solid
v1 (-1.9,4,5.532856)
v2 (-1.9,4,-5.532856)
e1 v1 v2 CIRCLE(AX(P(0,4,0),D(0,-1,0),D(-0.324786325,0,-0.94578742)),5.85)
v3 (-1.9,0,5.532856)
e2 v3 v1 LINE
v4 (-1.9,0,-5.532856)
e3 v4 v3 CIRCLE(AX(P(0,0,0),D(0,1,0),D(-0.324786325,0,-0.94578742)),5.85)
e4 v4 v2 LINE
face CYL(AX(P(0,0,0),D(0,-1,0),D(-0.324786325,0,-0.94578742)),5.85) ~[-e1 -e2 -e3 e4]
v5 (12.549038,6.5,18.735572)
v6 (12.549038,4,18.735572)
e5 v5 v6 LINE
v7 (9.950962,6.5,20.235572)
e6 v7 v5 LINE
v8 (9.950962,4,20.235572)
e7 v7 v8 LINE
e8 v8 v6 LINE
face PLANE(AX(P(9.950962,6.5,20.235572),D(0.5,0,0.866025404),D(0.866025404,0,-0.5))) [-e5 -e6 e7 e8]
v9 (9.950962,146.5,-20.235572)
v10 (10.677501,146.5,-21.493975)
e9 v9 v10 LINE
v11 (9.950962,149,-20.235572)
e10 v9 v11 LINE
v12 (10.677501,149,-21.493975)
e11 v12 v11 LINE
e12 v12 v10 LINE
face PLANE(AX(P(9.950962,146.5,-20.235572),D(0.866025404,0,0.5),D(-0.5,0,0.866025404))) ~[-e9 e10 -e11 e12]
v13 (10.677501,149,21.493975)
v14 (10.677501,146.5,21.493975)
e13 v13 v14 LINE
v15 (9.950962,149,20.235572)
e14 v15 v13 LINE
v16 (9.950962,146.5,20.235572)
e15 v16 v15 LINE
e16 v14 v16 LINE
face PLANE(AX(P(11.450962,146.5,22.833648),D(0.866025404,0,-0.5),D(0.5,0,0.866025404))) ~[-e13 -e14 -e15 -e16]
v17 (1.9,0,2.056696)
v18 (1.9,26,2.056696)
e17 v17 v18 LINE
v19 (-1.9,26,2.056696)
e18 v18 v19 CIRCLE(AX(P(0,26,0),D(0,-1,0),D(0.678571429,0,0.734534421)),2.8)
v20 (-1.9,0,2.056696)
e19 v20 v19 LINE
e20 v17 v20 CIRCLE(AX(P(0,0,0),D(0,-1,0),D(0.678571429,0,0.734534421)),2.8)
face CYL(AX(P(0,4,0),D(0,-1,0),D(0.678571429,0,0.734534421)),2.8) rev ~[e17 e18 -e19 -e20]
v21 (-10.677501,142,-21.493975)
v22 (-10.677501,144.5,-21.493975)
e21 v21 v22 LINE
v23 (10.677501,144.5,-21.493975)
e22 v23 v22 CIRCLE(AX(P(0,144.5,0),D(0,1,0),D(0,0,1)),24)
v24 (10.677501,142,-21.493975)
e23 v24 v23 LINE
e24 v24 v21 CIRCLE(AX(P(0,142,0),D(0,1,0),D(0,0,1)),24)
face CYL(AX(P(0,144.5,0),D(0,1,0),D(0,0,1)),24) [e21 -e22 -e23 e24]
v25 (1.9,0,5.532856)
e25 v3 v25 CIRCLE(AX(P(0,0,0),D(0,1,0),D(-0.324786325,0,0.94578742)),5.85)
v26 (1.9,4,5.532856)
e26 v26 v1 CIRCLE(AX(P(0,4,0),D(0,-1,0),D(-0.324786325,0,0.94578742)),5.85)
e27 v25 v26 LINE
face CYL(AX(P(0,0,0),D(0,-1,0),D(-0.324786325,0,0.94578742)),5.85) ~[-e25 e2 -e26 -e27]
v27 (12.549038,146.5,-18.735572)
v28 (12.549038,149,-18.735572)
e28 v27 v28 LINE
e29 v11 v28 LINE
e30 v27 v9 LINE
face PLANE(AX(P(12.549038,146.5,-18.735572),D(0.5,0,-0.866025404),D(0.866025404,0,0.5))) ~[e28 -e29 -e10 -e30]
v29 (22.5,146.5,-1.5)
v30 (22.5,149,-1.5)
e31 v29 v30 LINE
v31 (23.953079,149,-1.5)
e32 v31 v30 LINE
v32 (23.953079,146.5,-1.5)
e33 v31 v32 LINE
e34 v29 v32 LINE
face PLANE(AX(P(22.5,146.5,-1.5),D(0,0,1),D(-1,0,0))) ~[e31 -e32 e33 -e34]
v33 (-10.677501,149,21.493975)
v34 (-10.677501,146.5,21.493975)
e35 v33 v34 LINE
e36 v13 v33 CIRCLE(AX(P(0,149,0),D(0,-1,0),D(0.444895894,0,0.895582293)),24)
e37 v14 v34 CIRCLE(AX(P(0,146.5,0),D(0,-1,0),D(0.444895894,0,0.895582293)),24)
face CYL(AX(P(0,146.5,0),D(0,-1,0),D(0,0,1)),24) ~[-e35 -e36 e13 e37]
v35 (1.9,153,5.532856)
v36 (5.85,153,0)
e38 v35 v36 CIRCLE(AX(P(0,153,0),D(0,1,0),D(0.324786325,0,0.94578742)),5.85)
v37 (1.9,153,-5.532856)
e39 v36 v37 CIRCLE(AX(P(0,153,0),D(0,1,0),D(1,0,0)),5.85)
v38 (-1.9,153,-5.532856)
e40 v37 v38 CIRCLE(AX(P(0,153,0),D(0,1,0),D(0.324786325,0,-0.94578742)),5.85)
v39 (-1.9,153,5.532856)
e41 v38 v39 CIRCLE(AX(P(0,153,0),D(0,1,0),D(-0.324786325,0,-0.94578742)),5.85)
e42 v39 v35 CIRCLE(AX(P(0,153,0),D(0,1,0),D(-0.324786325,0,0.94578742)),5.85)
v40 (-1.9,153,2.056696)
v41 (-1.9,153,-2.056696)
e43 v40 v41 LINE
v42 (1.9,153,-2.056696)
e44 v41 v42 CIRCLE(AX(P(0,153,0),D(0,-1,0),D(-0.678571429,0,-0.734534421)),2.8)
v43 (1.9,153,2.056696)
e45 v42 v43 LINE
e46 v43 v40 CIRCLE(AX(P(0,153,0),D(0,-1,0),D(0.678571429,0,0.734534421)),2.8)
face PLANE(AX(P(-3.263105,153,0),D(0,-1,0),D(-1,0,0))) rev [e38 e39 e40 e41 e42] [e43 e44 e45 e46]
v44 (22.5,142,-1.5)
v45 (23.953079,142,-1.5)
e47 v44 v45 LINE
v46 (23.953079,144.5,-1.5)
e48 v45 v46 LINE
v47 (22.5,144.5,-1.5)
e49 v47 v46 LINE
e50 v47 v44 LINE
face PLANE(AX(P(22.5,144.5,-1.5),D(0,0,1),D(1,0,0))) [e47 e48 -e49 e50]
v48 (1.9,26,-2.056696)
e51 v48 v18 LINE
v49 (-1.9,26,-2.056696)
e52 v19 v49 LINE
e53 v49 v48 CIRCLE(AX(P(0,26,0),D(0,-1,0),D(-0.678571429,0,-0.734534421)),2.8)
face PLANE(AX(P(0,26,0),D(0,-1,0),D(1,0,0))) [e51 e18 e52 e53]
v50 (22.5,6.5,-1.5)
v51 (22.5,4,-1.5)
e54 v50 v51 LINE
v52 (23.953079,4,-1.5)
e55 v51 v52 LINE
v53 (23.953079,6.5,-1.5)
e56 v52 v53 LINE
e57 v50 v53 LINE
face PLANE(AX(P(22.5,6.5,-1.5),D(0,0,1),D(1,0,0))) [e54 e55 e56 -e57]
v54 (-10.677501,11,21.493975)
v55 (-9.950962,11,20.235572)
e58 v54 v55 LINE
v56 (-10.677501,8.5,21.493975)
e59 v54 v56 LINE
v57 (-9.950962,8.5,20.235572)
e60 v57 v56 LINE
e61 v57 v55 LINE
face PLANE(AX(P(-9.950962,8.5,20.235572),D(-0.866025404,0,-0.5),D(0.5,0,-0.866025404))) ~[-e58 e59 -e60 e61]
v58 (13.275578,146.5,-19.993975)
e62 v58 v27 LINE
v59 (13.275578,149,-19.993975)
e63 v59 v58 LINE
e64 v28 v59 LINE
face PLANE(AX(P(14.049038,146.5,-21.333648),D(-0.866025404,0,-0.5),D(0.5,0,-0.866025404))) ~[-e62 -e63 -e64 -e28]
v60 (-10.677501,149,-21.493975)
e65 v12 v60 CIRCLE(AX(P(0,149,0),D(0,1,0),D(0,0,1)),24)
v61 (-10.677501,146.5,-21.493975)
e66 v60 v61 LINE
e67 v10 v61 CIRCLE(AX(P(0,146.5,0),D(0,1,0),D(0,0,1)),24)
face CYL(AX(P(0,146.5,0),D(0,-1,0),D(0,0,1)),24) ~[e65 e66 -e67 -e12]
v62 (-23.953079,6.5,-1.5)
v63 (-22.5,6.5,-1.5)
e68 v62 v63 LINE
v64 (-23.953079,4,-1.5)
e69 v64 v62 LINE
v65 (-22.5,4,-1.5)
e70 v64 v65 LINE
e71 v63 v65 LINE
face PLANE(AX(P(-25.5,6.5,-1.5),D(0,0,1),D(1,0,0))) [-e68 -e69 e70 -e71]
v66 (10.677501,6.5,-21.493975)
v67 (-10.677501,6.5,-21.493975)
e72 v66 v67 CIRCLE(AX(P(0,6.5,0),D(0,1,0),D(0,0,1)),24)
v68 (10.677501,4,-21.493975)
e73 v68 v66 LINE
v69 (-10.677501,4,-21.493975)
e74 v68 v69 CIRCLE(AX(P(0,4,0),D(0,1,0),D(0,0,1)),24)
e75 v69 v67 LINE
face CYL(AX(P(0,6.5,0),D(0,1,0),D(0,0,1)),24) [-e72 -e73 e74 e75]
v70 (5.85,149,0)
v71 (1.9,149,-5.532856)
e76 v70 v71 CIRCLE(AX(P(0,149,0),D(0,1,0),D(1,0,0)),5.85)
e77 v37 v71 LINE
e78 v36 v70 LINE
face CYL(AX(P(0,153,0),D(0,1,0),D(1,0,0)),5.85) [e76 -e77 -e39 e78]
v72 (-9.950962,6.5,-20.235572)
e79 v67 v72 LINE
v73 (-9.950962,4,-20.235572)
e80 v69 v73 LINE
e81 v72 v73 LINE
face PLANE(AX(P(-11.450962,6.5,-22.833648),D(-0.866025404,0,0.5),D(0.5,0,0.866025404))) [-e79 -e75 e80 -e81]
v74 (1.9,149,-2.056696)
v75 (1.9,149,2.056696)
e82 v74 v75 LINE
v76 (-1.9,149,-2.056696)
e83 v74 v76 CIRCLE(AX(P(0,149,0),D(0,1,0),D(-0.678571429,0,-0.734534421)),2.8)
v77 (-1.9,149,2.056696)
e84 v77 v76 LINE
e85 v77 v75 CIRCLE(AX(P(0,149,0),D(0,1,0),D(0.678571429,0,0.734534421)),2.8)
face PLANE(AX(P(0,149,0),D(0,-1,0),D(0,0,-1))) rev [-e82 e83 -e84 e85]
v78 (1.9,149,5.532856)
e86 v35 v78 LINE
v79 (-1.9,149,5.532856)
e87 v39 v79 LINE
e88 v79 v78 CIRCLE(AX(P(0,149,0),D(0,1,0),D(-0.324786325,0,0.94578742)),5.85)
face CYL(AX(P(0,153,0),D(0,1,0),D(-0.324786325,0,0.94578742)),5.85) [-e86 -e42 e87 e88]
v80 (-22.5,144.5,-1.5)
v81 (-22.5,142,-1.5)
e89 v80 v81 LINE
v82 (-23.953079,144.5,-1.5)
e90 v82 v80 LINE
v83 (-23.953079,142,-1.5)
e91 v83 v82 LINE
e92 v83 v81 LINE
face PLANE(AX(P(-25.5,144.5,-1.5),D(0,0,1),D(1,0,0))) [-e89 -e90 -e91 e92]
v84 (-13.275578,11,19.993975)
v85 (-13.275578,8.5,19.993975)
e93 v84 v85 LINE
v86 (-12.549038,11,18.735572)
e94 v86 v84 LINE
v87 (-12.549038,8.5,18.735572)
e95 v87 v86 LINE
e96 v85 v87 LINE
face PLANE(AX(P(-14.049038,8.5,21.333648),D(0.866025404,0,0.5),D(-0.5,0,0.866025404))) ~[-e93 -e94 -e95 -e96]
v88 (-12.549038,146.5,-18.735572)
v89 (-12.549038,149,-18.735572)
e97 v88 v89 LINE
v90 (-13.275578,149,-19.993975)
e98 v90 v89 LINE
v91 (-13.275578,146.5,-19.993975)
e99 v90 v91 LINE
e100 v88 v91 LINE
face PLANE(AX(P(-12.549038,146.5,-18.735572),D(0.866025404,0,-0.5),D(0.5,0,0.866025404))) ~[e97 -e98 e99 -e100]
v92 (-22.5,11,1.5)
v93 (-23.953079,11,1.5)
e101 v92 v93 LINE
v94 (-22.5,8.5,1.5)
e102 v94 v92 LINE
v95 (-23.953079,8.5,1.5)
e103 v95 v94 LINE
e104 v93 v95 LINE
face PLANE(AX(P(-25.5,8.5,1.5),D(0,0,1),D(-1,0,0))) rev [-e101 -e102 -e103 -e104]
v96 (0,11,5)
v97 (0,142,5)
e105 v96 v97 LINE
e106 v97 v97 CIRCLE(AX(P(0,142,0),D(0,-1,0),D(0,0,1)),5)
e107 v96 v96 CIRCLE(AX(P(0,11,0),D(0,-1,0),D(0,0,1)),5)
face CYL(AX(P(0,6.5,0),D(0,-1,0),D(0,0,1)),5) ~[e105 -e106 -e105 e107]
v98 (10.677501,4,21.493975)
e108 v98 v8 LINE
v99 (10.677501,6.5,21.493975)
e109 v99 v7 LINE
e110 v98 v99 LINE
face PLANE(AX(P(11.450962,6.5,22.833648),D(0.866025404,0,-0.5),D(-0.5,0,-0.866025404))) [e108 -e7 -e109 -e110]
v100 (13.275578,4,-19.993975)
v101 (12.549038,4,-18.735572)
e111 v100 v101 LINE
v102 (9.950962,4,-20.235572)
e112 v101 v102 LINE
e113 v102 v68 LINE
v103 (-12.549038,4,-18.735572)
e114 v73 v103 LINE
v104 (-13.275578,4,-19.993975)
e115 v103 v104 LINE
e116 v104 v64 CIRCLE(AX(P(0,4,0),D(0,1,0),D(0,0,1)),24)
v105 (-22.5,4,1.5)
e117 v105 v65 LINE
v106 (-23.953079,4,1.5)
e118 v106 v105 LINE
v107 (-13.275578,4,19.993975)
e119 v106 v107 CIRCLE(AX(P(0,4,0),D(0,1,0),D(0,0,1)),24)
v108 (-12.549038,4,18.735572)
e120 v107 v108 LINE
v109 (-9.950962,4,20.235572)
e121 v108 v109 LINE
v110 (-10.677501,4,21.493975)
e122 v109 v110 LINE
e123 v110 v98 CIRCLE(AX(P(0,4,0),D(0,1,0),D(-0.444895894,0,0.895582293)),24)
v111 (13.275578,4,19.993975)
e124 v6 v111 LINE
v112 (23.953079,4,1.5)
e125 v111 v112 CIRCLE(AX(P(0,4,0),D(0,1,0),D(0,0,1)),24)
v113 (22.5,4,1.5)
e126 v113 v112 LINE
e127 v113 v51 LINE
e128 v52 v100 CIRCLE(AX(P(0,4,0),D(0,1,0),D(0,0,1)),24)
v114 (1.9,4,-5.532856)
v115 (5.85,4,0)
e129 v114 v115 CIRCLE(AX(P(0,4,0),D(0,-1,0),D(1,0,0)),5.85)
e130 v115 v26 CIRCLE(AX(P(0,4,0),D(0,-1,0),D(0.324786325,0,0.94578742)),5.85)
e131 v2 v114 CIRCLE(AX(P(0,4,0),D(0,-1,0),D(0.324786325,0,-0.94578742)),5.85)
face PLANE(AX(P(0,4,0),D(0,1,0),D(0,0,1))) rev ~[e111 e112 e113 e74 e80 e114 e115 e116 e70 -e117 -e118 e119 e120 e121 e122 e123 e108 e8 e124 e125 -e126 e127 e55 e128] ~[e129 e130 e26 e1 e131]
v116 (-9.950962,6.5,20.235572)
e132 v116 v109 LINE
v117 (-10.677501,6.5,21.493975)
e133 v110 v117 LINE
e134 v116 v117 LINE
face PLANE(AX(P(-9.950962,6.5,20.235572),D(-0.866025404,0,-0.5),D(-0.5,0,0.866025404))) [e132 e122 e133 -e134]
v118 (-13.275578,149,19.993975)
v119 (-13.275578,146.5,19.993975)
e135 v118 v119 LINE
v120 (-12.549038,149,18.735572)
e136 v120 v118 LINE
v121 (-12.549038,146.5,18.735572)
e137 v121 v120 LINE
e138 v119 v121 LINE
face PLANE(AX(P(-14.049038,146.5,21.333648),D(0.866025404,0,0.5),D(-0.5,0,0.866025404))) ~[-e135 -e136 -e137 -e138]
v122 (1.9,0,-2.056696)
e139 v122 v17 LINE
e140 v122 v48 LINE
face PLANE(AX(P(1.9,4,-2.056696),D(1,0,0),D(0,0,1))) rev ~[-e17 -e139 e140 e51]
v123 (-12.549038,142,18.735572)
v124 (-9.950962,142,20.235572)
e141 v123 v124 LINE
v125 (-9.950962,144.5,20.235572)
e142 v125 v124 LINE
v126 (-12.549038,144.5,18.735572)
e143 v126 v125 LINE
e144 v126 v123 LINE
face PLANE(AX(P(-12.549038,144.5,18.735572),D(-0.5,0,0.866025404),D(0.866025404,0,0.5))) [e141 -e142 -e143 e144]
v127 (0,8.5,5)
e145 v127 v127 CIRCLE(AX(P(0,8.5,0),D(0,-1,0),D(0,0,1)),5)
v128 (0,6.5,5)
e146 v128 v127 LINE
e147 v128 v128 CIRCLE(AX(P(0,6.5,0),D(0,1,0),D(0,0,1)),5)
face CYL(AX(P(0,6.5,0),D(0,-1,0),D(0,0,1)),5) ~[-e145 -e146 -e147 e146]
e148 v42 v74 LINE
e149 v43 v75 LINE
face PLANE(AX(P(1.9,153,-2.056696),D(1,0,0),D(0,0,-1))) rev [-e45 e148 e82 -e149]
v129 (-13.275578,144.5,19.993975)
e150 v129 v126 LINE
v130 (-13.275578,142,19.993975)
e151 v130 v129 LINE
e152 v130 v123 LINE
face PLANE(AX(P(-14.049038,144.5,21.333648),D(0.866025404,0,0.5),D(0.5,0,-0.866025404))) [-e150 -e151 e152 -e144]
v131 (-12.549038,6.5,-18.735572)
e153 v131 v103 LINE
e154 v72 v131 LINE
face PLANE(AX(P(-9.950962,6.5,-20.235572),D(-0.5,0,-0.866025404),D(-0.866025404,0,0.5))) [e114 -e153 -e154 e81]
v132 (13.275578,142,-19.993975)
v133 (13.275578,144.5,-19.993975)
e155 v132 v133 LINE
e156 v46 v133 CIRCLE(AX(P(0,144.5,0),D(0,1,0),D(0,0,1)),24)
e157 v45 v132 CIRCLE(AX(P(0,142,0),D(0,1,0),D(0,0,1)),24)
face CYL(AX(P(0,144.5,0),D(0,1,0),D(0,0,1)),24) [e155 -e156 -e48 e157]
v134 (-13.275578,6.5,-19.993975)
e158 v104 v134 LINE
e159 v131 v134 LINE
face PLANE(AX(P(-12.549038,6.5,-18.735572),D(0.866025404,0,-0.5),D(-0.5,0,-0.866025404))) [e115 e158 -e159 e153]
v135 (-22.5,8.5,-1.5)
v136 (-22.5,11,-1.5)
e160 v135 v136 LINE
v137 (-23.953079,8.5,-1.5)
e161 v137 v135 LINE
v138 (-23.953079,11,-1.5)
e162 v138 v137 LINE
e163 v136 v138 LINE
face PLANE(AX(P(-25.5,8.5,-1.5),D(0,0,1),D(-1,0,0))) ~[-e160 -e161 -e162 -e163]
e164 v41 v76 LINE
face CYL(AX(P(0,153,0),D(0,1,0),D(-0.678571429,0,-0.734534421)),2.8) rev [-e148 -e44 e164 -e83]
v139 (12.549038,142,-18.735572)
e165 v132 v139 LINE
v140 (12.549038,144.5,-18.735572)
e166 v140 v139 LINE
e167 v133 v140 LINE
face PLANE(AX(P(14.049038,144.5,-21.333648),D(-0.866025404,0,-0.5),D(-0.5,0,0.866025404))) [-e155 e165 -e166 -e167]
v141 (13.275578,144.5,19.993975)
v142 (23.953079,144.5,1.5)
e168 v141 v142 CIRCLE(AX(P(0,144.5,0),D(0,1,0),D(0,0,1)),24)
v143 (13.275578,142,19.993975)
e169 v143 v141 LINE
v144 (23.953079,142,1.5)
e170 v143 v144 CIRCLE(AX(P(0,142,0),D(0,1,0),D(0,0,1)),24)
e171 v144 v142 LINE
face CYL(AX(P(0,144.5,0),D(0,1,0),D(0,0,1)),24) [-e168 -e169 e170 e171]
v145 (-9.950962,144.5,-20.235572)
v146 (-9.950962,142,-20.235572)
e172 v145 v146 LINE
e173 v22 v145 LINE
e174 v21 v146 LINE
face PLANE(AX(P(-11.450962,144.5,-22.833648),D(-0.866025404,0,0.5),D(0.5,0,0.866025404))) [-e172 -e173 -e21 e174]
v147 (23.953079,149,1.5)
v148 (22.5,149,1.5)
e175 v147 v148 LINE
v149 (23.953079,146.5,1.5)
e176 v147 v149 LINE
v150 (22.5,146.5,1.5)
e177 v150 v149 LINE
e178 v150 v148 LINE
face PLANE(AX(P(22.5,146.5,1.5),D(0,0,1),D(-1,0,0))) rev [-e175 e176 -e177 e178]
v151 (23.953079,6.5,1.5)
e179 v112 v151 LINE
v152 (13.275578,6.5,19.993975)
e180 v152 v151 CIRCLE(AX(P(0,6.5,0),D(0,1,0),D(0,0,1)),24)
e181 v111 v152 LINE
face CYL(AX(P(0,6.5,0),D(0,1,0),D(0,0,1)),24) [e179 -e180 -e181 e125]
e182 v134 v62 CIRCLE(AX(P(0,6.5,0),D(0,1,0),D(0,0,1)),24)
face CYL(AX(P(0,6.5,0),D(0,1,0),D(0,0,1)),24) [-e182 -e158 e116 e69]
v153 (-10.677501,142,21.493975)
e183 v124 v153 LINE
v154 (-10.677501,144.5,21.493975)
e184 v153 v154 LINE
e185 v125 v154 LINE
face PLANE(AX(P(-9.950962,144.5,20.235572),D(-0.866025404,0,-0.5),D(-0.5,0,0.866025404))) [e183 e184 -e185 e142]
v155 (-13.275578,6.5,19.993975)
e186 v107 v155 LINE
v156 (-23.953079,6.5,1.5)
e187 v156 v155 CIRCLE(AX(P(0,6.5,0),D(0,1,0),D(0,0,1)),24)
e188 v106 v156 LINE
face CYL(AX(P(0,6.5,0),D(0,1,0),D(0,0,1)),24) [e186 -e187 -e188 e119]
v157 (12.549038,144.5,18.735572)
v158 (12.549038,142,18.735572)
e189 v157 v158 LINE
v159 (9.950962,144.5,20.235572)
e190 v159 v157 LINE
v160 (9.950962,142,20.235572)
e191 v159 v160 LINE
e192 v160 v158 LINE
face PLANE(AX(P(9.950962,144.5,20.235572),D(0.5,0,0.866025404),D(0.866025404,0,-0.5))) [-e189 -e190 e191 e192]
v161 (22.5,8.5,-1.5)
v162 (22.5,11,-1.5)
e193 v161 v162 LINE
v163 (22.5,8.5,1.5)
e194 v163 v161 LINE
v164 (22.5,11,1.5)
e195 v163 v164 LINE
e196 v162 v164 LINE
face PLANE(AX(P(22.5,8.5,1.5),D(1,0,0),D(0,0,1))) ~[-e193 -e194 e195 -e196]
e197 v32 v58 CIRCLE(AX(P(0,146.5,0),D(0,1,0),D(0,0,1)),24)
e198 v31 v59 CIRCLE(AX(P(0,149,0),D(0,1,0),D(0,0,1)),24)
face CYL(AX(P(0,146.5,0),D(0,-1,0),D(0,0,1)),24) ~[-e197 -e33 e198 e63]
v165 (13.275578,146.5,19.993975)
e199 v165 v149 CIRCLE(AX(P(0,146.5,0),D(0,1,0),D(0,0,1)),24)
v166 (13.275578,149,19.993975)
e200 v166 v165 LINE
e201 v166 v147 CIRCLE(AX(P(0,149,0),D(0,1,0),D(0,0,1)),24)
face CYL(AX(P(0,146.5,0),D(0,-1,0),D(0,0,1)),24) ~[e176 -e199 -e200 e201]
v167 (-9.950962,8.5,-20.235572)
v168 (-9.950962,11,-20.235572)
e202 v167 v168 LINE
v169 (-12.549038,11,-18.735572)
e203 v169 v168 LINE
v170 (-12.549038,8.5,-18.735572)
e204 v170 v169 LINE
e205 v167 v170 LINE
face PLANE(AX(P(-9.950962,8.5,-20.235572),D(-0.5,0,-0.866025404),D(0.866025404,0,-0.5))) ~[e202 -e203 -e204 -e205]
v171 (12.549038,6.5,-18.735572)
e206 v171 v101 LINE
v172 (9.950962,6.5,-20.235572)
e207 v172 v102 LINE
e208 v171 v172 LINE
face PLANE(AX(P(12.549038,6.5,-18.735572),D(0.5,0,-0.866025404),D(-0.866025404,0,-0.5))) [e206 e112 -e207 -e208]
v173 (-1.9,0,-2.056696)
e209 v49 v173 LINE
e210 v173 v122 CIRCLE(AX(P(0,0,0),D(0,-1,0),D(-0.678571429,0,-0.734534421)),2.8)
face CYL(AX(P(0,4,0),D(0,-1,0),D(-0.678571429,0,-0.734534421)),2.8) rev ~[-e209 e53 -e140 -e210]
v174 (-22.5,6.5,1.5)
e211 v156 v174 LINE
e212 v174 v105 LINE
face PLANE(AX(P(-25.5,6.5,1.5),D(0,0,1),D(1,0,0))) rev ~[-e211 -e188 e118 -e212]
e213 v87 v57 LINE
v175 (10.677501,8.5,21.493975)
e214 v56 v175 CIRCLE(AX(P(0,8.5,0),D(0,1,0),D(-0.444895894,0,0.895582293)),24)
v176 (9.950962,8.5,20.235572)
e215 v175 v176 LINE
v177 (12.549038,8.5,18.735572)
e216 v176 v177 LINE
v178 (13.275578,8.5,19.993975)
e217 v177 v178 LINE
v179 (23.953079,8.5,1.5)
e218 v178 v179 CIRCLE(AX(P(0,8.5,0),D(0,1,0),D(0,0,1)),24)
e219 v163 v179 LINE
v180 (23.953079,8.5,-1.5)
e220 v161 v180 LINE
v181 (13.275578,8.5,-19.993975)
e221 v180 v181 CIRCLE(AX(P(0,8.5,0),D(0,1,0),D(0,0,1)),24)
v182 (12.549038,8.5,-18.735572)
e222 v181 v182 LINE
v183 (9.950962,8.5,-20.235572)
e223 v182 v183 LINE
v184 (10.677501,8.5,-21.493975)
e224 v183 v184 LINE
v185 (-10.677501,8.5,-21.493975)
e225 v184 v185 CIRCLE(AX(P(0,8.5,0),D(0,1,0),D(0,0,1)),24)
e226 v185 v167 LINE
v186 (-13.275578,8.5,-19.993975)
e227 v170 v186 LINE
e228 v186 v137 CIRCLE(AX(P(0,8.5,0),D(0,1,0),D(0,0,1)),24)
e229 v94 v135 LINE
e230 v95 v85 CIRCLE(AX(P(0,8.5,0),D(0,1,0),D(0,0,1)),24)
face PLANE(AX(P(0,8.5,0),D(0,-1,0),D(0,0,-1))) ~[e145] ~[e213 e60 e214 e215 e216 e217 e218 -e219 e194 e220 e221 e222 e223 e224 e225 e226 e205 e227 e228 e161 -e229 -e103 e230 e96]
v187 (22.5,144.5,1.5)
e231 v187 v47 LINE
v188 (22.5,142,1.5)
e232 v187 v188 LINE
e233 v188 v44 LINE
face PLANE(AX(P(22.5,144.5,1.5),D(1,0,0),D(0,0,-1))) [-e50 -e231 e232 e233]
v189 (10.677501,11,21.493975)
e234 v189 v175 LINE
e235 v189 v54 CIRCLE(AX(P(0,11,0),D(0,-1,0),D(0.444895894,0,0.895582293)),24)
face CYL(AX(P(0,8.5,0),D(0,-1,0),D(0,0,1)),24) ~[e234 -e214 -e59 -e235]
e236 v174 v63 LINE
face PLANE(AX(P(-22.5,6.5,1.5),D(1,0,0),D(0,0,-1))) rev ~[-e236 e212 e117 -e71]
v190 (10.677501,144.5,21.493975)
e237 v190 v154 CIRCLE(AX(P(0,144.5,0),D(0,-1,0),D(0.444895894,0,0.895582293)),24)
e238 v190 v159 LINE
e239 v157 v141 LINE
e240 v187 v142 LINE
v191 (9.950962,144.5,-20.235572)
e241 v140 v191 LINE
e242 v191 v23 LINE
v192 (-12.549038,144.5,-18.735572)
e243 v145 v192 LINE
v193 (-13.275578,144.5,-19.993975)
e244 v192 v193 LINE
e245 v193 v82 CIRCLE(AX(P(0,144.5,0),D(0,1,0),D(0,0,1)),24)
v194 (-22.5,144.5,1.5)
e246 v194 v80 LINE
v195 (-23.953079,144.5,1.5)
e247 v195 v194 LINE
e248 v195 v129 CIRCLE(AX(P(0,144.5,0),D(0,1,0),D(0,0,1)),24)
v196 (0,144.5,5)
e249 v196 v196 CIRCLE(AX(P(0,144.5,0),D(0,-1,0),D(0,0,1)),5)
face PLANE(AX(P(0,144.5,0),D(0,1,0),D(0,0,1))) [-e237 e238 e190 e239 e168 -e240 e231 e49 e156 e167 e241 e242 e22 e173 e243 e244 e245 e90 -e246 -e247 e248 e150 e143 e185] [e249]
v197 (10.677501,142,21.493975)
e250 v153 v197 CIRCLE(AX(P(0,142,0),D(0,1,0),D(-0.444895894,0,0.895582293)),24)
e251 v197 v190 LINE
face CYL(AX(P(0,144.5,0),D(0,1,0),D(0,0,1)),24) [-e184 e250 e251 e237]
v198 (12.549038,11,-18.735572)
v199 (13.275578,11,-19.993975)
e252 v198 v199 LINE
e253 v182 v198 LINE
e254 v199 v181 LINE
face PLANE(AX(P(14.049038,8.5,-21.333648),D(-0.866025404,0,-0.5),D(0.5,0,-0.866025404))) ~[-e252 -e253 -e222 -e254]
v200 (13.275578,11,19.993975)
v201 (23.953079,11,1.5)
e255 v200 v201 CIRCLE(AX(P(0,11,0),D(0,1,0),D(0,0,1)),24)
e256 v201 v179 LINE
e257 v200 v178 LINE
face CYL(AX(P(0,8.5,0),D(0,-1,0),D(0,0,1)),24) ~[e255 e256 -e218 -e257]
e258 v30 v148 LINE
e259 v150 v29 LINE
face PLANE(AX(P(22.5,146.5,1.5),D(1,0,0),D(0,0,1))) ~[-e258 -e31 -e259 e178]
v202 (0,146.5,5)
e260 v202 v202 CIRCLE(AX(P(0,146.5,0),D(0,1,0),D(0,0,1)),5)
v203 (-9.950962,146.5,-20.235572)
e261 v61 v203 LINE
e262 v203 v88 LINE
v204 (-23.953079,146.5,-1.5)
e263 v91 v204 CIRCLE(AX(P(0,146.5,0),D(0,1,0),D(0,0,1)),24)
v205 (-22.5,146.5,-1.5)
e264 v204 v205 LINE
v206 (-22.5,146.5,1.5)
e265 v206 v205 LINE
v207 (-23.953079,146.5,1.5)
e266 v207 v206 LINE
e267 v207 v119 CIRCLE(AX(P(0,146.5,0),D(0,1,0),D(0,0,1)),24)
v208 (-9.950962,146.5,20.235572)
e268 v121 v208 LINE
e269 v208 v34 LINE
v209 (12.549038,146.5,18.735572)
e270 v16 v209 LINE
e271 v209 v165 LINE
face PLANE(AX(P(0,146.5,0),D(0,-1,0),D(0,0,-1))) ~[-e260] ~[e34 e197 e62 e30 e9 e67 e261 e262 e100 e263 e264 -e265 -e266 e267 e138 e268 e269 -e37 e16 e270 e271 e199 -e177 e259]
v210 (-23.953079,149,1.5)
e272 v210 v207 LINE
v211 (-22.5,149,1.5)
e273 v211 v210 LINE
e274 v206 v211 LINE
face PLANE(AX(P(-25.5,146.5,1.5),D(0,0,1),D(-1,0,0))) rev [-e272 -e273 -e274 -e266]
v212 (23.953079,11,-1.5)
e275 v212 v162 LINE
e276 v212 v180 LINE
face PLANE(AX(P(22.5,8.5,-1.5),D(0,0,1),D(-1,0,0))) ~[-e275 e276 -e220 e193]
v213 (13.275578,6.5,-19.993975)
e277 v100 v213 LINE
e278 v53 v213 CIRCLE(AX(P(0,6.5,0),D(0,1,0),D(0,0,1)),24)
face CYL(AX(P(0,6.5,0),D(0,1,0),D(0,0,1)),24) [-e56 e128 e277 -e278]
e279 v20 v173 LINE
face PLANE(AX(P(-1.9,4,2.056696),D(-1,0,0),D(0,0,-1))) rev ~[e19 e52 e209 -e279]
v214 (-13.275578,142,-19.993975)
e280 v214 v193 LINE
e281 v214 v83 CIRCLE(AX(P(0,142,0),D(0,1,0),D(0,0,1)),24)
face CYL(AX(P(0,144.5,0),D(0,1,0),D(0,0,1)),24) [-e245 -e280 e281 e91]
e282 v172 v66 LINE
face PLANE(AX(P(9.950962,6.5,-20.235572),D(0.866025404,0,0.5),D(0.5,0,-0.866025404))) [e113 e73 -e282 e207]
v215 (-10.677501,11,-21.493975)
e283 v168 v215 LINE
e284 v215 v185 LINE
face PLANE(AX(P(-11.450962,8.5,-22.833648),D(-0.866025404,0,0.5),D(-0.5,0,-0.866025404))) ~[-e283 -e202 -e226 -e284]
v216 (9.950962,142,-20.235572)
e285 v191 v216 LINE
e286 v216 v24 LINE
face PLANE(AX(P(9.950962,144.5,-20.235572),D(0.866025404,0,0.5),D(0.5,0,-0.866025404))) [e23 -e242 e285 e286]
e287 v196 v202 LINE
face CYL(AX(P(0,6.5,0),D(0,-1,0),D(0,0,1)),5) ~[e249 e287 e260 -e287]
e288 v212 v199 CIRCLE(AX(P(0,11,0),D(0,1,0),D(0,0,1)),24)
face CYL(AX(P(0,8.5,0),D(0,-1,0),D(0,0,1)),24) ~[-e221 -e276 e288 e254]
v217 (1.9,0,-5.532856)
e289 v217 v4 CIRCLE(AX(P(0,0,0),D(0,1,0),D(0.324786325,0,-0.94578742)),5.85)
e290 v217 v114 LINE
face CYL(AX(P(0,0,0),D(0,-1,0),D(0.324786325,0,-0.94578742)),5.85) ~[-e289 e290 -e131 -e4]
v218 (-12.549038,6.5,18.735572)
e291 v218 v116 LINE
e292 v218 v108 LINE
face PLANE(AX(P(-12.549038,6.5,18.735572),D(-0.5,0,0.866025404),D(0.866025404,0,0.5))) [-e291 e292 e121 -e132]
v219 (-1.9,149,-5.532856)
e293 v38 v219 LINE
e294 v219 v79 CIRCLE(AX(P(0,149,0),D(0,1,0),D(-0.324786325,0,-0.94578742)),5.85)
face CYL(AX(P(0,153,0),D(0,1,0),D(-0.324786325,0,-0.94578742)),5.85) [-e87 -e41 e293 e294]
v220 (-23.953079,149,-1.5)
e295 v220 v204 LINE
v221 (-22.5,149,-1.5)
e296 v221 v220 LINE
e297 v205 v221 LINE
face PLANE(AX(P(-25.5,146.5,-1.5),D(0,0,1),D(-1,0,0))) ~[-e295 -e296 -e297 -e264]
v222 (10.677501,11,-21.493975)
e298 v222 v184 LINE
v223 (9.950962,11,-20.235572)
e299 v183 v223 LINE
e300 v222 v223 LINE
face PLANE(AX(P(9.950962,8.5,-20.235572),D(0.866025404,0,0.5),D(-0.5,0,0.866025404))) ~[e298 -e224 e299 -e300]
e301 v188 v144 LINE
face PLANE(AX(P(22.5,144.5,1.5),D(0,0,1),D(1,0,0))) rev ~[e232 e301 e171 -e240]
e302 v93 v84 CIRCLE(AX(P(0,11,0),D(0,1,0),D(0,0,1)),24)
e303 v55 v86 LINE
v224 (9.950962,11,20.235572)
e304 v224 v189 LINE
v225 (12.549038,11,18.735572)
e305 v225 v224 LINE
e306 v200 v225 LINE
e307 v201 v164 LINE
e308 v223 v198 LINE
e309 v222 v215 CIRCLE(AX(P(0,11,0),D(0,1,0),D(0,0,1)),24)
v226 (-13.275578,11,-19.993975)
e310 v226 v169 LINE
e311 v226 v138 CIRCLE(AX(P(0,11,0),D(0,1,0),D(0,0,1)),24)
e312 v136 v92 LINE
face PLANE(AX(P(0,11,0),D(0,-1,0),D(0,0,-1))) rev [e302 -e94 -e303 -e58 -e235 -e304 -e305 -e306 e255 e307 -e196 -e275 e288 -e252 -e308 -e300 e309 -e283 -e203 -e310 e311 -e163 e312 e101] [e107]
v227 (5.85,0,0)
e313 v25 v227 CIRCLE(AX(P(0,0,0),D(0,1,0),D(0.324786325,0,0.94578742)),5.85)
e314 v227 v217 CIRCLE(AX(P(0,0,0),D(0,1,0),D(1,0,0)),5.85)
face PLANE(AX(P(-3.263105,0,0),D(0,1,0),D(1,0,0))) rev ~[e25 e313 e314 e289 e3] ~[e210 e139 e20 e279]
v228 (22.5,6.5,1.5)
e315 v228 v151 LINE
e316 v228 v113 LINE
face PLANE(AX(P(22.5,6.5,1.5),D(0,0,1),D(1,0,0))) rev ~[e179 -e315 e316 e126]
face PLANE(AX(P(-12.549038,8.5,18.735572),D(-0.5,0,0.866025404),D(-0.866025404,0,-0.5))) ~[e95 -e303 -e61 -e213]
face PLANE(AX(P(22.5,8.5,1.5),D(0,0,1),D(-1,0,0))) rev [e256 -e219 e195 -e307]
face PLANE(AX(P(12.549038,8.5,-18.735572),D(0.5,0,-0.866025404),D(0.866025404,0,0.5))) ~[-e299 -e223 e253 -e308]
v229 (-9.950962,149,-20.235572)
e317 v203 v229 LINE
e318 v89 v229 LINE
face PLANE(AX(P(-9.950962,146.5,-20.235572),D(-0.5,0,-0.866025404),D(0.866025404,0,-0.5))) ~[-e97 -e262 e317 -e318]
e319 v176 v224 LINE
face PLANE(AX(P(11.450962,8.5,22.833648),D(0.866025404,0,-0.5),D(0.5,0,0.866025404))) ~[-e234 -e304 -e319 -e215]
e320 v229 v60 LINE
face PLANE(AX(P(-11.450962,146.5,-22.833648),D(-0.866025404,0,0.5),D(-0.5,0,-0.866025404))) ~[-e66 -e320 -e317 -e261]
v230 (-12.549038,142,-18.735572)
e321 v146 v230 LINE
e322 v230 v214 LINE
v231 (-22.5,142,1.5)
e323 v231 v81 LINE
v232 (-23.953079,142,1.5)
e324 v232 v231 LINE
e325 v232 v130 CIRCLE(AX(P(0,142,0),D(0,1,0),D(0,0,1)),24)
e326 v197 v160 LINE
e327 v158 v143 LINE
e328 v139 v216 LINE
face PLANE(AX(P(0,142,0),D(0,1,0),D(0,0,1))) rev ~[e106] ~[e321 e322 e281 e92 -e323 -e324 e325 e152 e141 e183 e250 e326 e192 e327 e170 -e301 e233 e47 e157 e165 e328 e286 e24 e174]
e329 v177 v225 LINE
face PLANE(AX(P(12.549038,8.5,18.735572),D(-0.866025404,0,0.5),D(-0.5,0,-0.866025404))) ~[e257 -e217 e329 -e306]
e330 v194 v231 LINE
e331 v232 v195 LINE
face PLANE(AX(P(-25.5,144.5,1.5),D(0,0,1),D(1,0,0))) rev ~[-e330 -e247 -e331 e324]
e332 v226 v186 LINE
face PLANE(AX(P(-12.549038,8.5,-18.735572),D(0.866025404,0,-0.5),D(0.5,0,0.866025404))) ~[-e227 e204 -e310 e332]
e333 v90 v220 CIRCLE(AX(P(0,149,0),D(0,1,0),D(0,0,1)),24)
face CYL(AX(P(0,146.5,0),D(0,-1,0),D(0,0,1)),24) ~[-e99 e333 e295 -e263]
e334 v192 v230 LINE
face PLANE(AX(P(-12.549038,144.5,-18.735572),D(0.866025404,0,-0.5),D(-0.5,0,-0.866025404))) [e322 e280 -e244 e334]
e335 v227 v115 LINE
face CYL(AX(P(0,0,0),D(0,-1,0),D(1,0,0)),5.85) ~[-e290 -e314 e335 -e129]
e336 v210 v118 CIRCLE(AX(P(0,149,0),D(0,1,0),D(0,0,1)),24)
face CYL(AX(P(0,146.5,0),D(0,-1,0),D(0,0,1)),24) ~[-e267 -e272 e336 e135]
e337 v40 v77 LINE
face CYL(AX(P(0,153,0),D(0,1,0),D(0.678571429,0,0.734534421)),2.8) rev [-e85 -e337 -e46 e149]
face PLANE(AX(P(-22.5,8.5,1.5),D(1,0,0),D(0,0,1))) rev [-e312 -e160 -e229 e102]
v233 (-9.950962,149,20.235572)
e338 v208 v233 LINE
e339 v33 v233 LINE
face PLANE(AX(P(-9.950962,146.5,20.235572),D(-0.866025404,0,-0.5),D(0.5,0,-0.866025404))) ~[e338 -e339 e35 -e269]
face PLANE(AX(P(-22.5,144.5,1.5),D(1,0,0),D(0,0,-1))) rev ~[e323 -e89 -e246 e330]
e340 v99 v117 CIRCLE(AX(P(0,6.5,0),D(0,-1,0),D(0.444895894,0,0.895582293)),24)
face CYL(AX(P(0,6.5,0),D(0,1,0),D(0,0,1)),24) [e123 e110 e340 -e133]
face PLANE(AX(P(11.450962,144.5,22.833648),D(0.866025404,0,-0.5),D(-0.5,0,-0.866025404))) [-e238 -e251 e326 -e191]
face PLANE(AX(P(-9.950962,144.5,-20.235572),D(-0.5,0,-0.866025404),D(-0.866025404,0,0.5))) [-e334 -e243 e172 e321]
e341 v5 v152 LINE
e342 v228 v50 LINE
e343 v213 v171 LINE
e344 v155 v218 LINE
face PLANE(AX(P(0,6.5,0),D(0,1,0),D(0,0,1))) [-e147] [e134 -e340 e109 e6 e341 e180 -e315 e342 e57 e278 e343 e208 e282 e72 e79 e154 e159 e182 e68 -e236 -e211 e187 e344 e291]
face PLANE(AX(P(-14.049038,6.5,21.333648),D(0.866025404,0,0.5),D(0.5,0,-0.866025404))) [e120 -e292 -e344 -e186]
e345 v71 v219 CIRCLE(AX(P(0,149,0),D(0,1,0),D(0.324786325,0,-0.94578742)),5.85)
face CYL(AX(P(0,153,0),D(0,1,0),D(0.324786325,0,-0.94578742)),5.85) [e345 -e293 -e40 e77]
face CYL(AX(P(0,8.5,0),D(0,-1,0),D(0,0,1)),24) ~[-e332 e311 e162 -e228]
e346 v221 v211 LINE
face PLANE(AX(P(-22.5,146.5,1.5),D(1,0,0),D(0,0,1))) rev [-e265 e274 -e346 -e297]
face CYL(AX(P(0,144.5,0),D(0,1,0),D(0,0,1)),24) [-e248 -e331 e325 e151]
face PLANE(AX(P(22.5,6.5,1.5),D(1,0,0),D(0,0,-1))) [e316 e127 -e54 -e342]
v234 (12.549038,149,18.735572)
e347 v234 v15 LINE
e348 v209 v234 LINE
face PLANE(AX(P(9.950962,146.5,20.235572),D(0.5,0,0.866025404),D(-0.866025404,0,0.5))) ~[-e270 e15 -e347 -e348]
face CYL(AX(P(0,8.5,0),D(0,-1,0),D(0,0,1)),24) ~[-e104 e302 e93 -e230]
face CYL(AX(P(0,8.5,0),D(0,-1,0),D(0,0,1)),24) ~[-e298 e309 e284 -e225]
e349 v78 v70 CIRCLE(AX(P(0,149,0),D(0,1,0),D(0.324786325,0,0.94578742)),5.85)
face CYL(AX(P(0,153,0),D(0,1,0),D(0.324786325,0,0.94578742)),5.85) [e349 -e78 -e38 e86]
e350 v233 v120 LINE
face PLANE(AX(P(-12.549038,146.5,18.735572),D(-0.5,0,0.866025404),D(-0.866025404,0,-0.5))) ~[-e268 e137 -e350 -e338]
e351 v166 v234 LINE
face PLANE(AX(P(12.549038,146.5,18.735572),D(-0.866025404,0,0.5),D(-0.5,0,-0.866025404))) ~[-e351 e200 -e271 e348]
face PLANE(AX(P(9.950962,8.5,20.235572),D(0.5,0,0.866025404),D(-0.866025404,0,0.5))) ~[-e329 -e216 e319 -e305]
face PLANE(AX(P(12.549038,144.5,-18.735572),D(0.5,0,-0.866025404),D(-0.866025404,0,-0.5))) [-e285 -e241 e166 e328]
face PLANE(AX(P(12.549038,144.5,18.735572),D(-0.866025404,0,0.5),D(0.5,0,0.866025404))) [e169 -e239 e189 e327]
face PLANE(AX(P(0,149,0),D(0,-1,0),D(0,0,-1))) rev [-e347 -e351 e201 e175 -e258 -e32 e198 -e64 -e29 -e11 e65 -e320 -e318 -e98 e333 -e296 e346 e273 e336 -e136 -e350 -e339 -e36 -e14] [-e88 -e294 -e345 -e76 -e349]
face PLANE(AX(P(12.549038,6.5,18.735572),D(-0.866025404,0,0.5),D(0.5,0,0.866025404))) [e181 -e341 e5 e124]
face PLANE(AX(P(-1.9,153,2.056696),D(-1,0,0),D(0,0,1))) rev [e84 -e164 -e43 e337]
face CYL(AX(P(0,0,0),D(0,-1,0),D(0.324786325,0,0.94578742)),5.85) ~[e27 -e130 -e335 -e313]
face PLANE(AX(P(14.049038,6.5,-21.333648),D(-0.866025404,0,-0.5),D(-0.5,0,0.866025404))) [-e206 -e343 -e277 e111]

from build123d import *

# Parameters (mm, degrees)
BOSS_EXTRUDE1_DEPTH     = 6.5
SKETCH2_R               = 24
BOSS_EXTRUDE2_DEPTH     = 2.5
CUT_EXTRUDE1_DEPTH      = 8
SKETCH4_W               = 3
SKETCH4_H               = 3
CUT_EXTRUDE2_DEPTH      = 10
SKETCH5_R               = 5
BOSS_EXTRUDE3_DEPTH     = 140
CUT_EXTRUDE3_DEPTH      = 15
MIRROR6_COPY_1_SKETCH_R = 24
MIRROR6_COPY_1_DEPTH    = 2.5
MIRROR6_COPY_2_SKETCH_W = 3
MIRROR6_COPY_2_SKETCH_H = 3
MIRROR6_COPY_2_DEPTH    = 10


with BuildPart() as part:
    # Sketch1 → Boss-Extrude1 (new body)
    with BuildSketch(Plane(origin=(0, 0, 0), x_dir=(1, 0, 0), z_dir=(0, 1, 0))):
        with BuildLine():
            ThreePointArc((-1.9, -2.05669638), (-2.8, 0), (-1.9, 2.05669638))
            Line((-1.9, 2.05669638), (-1.9, 5.532856405))
            ThreePointArc((-1.9, 5.532856405), (-5.85, 0), (-1.9, -5.532856405))
            Line((-1.9, -5.532856405), (-1.9, -2.05669638))
        make_face()
        with BuildLine():
            ThreePointArc((-1.9, 2.05669638), (0, 2.8), (1.9, 2.05669638))
            Line((1.9, 2.05669638), (1.9, 5.532856405))
            ThreePointArc((1.9, 5.532856405), (0, 5.85), (-1.9, 5.532856405))
            Line((-1.9, 5.532856405), (-1.9, 2.05669638))
        make_face()
        with BuildLine():
            Line((1.9, 5.532856405), (1.9, 2.05669638))
            ThreePointArc((1.9, 2.05669638), (2.565151068, 1.122497216), (2.8, 0))
            ThreePointArc((2.8, 0), (2.565151068, -1.122497216), (1.9, -2.05669638))
            Line((1.9, -2.05669638), (1.9, -5.532856405))
            ThreePointArc((1.9, -5.532856405), (4.761171074, -3.399080758), (5.85, 0))
            ThreePointArc((5.85, 0), (4.761171074, 3.399080758), (1.9, 5.532856405))
        make_face()
        with BuildLine():
            Line((1.9, -5.532856405), (1.9, -2.05669638))
            ThreePointArc((1.9, -2.05669638), (0, -2.8), (-1.9, -2.05669638))
            Line((-1.9, -2.05669638), (-1.9, -5.532856405))
            ThreePointArc((-1.9, -5.532856405), (0, -5.85), (1.9, -5.532856405))
        make_face()
        with BuildLine():
            Line((-1.9, -2.05669638), (-1.9, 2.05669638))
            ThreePointArc((-1.9, 2.05669638), (-2.8, 0), (-1.9, -2.05669638))
        make_face()
        with BuildLine():
            ThreePointArc((2.8, 0), (2.565151068, 1.122497216), (1.9, 2.05669638))
            Line((1.9, 2.05669638), (1.9, -2.05669638))
            ThreePointArc((1.9, -2.05669638), (2.565151068, -1.122497216), (2.8, 0))
        make_face()
    boss_extrude1 = extrude(amount=BOSS_EXTRUDE1_DEPTH)

    # Sketch2 → Boss-Extrude2 (add)
    with BuildSketch(Plane(origin=(0, 6.5, 0), x_dir=(1, 0, 0), z_dir=(0, 1, 0))):
        with Locations(Location((0, 0, 0), (0, 0, 270))):
            Circle(SKETCH2_R)
    boss_extrude2 = extrude(amount=-BOSS_EXTRUDE2_DEPTH)

    # Sketch3 → Cut-Extrude1 (cut)
    with BuildSketch(Plane.XZ.offset(-4)):
        with BuildLine():
            Line((-1.9, 2.05669638), (-1.9, -2.05669638))
            ThreePointArc((-1.9, -2.05669638), (0, -2.8), (1.9, -2.05669638))
            Line((1.9, -2.05669638), (1.9, 2.05669638))
            ThreePointArc((1.9, 2.05669638), (0, 2.8), (-1.9, 2.05669638))
        make_face()
    cut_extrude1 = extrude(amount=-CUT_EXTRUDE1_DEPTH, mode=Mode.SUBTRACT)

    # Sketch4 → Cut-Extrude2 (cut)
    with BuildSketch(Plane(origin=(0, 6.5, 0), x_dir=(1, 0, 0), z_dir=(0, 1, 0))):
        Polygon((12.549038106, -18.735571585), (14.049038106, -21.333647797), (11.450961894, -22.833647797), (9.950961894, -20.235571585), align=None)
        with Locations((24, 0)):
            Rectangle(SKETCH4_W, SKETCH4_H)
        Polygon((-9.950961894, -20.235571585), (-11.450961894, -22.833647797), (-14.049038106, -21.333647797), (-12.549038106, -18.735571585), align=None)
        with Locations((-24, 0)):
            Rectangle(SKETCH4_W, SKETCH4_H)
        Polygon((-12.549038106, 18.735571585), (-14.049038106, 21.333647797), (-11.450961894, 22.833647797), (-9.950961894, 20.235571585), align=None)
        Polygon((9.950961894, 20.235571585), (11.450961894, 22.833647797), (14.049038106, 21.333647797), (12.549038106, 18.735571585), align=None)
    cut_extrude2 = extrude(amount=-CUT_EXTRUDE2_DEPTH, mode=Mode.SUBTRACT)

    # Sketch5 → Boss-Extrude3 (add)
    with BuildSketch(Plane(origin=(0, 6.5, 0), x_dir=(1, 0, 0), z_dir=(0, 1, 0))):
        with Locations(Location((0, 0, 0), (0, 0, 270))):
            Circle(SKETCH5_R)
    extrude(amount=BOSS_EXTRUDE3_DEPTH)

    # Mirror1: Boss-Extrude2 across plane
    add(boss_extrude2.mirror(Plane.ZX.offset(76.5)))

    # Mirror2: Boss-Extrude1 across plane
    add(boss_extrude1.mirror(Plane.ZX.offset(76.5)))

    # Mirror3: Boss-Extrude2, Cut-Extrude1, Cut-Extrude2 across plane
    add(boss_extrude2.mirror(Plane.ZX.offset(7.5)))
    add(cut_extrude1.mirror(Plane.ZX.offset(7.5)), mode=Mode.SUBTRACT)
    add(cut_extrude2.mirror(Plane.ZX.offset(7.5)), mode=Mode.SUBTRACT)

    # Sketch6 → Cut-Extrude3 (cut)
    with BuildSketch(Plane.XZ.offset(-11)):
        with BuildLine():
            Line((-1.9, 2.05669638), (-1.9, -2.05669638))
            ThreePointArc((-1.9, -2.05669638), (0, -2.8), (1.9, -2.05669638))
            Line((1.9, -2.05669638), (1.9, 2.05669638))
            ThreePointArc((1.9, 2.05669638), (0, 2.8), (-1.9, 2.05669638))
        make_face()
    extrude(amount=-CUT_EXTRUDE3_DEPTH, mode=Mode.SUBTRACT)

    # Mirror5: Cut-Extrude2 across plane
    add(cut_extrude2.mirror(Plane.ZX.offset(76.5)), mode=Mode.SUBTRACT)

    # Mirror6 copy 1 sketch → Mirror6 copy 1 (add)
    with BuildSketch(Plane(origin=(0, 144.5, 0), x_dir=(1, 0, 0), z_dir=(0, 1, 0))):
        with Locations(Location((0, 0, 0), (0, 0, 270))):
            Circle(MIRROR6_COPY_1_SKETCH_R)
    extrude(amount=-MIRROR6_COPY_1_DEPTH)

    # Mirror6 copy 2 sketch → Mirror6 copy 2 (cut)
    with BuildSketch(Plane(origin=(0, 144.5, 0), x_dir=(1, 0, 0), z_dir=(0, 1, 0))):
        Polygon((12.549038106, -18.735571585), (14.049038106, -21.333647797), (11.450961894, -22.833647797), (9.950961894, -20.235571585), align=None)
        with Locations((24, 0)):
            Rectangle(MIRROR6_COPY_2_SKETCH_W, MIRROR6_COPY_2_SKETCH_H)
        Polygon((-9.950961894, -20.235571585), (-11.450961894, -22.833647797), (-14.049038106, -21.333647797), (-12.549038106, -18.735571585), align=None)
        with Locations((-24, 0)):
            Rectangle(MIRROR6_COPY_2_SKETCH_W, MIRROR6_COPY_2_SKETCH_H)
        Polygon((-12.549038106, 18.735571585), (-14.049038106, 21.333647797), (-11.450961894, 22.833647797), (-9.950961894, 20.235571585), align=None)
        Polygon((9.950961894, 20.235571585), (11.450961894, 22.833647797), (14.049038106, 21.333647797), (12.549038106, 18.735571585), align=None)
    extrude(amount=-MIRROR6_COPY_2_DEPTH, mode=Mode.SUBTRACT)


solid = part.part
